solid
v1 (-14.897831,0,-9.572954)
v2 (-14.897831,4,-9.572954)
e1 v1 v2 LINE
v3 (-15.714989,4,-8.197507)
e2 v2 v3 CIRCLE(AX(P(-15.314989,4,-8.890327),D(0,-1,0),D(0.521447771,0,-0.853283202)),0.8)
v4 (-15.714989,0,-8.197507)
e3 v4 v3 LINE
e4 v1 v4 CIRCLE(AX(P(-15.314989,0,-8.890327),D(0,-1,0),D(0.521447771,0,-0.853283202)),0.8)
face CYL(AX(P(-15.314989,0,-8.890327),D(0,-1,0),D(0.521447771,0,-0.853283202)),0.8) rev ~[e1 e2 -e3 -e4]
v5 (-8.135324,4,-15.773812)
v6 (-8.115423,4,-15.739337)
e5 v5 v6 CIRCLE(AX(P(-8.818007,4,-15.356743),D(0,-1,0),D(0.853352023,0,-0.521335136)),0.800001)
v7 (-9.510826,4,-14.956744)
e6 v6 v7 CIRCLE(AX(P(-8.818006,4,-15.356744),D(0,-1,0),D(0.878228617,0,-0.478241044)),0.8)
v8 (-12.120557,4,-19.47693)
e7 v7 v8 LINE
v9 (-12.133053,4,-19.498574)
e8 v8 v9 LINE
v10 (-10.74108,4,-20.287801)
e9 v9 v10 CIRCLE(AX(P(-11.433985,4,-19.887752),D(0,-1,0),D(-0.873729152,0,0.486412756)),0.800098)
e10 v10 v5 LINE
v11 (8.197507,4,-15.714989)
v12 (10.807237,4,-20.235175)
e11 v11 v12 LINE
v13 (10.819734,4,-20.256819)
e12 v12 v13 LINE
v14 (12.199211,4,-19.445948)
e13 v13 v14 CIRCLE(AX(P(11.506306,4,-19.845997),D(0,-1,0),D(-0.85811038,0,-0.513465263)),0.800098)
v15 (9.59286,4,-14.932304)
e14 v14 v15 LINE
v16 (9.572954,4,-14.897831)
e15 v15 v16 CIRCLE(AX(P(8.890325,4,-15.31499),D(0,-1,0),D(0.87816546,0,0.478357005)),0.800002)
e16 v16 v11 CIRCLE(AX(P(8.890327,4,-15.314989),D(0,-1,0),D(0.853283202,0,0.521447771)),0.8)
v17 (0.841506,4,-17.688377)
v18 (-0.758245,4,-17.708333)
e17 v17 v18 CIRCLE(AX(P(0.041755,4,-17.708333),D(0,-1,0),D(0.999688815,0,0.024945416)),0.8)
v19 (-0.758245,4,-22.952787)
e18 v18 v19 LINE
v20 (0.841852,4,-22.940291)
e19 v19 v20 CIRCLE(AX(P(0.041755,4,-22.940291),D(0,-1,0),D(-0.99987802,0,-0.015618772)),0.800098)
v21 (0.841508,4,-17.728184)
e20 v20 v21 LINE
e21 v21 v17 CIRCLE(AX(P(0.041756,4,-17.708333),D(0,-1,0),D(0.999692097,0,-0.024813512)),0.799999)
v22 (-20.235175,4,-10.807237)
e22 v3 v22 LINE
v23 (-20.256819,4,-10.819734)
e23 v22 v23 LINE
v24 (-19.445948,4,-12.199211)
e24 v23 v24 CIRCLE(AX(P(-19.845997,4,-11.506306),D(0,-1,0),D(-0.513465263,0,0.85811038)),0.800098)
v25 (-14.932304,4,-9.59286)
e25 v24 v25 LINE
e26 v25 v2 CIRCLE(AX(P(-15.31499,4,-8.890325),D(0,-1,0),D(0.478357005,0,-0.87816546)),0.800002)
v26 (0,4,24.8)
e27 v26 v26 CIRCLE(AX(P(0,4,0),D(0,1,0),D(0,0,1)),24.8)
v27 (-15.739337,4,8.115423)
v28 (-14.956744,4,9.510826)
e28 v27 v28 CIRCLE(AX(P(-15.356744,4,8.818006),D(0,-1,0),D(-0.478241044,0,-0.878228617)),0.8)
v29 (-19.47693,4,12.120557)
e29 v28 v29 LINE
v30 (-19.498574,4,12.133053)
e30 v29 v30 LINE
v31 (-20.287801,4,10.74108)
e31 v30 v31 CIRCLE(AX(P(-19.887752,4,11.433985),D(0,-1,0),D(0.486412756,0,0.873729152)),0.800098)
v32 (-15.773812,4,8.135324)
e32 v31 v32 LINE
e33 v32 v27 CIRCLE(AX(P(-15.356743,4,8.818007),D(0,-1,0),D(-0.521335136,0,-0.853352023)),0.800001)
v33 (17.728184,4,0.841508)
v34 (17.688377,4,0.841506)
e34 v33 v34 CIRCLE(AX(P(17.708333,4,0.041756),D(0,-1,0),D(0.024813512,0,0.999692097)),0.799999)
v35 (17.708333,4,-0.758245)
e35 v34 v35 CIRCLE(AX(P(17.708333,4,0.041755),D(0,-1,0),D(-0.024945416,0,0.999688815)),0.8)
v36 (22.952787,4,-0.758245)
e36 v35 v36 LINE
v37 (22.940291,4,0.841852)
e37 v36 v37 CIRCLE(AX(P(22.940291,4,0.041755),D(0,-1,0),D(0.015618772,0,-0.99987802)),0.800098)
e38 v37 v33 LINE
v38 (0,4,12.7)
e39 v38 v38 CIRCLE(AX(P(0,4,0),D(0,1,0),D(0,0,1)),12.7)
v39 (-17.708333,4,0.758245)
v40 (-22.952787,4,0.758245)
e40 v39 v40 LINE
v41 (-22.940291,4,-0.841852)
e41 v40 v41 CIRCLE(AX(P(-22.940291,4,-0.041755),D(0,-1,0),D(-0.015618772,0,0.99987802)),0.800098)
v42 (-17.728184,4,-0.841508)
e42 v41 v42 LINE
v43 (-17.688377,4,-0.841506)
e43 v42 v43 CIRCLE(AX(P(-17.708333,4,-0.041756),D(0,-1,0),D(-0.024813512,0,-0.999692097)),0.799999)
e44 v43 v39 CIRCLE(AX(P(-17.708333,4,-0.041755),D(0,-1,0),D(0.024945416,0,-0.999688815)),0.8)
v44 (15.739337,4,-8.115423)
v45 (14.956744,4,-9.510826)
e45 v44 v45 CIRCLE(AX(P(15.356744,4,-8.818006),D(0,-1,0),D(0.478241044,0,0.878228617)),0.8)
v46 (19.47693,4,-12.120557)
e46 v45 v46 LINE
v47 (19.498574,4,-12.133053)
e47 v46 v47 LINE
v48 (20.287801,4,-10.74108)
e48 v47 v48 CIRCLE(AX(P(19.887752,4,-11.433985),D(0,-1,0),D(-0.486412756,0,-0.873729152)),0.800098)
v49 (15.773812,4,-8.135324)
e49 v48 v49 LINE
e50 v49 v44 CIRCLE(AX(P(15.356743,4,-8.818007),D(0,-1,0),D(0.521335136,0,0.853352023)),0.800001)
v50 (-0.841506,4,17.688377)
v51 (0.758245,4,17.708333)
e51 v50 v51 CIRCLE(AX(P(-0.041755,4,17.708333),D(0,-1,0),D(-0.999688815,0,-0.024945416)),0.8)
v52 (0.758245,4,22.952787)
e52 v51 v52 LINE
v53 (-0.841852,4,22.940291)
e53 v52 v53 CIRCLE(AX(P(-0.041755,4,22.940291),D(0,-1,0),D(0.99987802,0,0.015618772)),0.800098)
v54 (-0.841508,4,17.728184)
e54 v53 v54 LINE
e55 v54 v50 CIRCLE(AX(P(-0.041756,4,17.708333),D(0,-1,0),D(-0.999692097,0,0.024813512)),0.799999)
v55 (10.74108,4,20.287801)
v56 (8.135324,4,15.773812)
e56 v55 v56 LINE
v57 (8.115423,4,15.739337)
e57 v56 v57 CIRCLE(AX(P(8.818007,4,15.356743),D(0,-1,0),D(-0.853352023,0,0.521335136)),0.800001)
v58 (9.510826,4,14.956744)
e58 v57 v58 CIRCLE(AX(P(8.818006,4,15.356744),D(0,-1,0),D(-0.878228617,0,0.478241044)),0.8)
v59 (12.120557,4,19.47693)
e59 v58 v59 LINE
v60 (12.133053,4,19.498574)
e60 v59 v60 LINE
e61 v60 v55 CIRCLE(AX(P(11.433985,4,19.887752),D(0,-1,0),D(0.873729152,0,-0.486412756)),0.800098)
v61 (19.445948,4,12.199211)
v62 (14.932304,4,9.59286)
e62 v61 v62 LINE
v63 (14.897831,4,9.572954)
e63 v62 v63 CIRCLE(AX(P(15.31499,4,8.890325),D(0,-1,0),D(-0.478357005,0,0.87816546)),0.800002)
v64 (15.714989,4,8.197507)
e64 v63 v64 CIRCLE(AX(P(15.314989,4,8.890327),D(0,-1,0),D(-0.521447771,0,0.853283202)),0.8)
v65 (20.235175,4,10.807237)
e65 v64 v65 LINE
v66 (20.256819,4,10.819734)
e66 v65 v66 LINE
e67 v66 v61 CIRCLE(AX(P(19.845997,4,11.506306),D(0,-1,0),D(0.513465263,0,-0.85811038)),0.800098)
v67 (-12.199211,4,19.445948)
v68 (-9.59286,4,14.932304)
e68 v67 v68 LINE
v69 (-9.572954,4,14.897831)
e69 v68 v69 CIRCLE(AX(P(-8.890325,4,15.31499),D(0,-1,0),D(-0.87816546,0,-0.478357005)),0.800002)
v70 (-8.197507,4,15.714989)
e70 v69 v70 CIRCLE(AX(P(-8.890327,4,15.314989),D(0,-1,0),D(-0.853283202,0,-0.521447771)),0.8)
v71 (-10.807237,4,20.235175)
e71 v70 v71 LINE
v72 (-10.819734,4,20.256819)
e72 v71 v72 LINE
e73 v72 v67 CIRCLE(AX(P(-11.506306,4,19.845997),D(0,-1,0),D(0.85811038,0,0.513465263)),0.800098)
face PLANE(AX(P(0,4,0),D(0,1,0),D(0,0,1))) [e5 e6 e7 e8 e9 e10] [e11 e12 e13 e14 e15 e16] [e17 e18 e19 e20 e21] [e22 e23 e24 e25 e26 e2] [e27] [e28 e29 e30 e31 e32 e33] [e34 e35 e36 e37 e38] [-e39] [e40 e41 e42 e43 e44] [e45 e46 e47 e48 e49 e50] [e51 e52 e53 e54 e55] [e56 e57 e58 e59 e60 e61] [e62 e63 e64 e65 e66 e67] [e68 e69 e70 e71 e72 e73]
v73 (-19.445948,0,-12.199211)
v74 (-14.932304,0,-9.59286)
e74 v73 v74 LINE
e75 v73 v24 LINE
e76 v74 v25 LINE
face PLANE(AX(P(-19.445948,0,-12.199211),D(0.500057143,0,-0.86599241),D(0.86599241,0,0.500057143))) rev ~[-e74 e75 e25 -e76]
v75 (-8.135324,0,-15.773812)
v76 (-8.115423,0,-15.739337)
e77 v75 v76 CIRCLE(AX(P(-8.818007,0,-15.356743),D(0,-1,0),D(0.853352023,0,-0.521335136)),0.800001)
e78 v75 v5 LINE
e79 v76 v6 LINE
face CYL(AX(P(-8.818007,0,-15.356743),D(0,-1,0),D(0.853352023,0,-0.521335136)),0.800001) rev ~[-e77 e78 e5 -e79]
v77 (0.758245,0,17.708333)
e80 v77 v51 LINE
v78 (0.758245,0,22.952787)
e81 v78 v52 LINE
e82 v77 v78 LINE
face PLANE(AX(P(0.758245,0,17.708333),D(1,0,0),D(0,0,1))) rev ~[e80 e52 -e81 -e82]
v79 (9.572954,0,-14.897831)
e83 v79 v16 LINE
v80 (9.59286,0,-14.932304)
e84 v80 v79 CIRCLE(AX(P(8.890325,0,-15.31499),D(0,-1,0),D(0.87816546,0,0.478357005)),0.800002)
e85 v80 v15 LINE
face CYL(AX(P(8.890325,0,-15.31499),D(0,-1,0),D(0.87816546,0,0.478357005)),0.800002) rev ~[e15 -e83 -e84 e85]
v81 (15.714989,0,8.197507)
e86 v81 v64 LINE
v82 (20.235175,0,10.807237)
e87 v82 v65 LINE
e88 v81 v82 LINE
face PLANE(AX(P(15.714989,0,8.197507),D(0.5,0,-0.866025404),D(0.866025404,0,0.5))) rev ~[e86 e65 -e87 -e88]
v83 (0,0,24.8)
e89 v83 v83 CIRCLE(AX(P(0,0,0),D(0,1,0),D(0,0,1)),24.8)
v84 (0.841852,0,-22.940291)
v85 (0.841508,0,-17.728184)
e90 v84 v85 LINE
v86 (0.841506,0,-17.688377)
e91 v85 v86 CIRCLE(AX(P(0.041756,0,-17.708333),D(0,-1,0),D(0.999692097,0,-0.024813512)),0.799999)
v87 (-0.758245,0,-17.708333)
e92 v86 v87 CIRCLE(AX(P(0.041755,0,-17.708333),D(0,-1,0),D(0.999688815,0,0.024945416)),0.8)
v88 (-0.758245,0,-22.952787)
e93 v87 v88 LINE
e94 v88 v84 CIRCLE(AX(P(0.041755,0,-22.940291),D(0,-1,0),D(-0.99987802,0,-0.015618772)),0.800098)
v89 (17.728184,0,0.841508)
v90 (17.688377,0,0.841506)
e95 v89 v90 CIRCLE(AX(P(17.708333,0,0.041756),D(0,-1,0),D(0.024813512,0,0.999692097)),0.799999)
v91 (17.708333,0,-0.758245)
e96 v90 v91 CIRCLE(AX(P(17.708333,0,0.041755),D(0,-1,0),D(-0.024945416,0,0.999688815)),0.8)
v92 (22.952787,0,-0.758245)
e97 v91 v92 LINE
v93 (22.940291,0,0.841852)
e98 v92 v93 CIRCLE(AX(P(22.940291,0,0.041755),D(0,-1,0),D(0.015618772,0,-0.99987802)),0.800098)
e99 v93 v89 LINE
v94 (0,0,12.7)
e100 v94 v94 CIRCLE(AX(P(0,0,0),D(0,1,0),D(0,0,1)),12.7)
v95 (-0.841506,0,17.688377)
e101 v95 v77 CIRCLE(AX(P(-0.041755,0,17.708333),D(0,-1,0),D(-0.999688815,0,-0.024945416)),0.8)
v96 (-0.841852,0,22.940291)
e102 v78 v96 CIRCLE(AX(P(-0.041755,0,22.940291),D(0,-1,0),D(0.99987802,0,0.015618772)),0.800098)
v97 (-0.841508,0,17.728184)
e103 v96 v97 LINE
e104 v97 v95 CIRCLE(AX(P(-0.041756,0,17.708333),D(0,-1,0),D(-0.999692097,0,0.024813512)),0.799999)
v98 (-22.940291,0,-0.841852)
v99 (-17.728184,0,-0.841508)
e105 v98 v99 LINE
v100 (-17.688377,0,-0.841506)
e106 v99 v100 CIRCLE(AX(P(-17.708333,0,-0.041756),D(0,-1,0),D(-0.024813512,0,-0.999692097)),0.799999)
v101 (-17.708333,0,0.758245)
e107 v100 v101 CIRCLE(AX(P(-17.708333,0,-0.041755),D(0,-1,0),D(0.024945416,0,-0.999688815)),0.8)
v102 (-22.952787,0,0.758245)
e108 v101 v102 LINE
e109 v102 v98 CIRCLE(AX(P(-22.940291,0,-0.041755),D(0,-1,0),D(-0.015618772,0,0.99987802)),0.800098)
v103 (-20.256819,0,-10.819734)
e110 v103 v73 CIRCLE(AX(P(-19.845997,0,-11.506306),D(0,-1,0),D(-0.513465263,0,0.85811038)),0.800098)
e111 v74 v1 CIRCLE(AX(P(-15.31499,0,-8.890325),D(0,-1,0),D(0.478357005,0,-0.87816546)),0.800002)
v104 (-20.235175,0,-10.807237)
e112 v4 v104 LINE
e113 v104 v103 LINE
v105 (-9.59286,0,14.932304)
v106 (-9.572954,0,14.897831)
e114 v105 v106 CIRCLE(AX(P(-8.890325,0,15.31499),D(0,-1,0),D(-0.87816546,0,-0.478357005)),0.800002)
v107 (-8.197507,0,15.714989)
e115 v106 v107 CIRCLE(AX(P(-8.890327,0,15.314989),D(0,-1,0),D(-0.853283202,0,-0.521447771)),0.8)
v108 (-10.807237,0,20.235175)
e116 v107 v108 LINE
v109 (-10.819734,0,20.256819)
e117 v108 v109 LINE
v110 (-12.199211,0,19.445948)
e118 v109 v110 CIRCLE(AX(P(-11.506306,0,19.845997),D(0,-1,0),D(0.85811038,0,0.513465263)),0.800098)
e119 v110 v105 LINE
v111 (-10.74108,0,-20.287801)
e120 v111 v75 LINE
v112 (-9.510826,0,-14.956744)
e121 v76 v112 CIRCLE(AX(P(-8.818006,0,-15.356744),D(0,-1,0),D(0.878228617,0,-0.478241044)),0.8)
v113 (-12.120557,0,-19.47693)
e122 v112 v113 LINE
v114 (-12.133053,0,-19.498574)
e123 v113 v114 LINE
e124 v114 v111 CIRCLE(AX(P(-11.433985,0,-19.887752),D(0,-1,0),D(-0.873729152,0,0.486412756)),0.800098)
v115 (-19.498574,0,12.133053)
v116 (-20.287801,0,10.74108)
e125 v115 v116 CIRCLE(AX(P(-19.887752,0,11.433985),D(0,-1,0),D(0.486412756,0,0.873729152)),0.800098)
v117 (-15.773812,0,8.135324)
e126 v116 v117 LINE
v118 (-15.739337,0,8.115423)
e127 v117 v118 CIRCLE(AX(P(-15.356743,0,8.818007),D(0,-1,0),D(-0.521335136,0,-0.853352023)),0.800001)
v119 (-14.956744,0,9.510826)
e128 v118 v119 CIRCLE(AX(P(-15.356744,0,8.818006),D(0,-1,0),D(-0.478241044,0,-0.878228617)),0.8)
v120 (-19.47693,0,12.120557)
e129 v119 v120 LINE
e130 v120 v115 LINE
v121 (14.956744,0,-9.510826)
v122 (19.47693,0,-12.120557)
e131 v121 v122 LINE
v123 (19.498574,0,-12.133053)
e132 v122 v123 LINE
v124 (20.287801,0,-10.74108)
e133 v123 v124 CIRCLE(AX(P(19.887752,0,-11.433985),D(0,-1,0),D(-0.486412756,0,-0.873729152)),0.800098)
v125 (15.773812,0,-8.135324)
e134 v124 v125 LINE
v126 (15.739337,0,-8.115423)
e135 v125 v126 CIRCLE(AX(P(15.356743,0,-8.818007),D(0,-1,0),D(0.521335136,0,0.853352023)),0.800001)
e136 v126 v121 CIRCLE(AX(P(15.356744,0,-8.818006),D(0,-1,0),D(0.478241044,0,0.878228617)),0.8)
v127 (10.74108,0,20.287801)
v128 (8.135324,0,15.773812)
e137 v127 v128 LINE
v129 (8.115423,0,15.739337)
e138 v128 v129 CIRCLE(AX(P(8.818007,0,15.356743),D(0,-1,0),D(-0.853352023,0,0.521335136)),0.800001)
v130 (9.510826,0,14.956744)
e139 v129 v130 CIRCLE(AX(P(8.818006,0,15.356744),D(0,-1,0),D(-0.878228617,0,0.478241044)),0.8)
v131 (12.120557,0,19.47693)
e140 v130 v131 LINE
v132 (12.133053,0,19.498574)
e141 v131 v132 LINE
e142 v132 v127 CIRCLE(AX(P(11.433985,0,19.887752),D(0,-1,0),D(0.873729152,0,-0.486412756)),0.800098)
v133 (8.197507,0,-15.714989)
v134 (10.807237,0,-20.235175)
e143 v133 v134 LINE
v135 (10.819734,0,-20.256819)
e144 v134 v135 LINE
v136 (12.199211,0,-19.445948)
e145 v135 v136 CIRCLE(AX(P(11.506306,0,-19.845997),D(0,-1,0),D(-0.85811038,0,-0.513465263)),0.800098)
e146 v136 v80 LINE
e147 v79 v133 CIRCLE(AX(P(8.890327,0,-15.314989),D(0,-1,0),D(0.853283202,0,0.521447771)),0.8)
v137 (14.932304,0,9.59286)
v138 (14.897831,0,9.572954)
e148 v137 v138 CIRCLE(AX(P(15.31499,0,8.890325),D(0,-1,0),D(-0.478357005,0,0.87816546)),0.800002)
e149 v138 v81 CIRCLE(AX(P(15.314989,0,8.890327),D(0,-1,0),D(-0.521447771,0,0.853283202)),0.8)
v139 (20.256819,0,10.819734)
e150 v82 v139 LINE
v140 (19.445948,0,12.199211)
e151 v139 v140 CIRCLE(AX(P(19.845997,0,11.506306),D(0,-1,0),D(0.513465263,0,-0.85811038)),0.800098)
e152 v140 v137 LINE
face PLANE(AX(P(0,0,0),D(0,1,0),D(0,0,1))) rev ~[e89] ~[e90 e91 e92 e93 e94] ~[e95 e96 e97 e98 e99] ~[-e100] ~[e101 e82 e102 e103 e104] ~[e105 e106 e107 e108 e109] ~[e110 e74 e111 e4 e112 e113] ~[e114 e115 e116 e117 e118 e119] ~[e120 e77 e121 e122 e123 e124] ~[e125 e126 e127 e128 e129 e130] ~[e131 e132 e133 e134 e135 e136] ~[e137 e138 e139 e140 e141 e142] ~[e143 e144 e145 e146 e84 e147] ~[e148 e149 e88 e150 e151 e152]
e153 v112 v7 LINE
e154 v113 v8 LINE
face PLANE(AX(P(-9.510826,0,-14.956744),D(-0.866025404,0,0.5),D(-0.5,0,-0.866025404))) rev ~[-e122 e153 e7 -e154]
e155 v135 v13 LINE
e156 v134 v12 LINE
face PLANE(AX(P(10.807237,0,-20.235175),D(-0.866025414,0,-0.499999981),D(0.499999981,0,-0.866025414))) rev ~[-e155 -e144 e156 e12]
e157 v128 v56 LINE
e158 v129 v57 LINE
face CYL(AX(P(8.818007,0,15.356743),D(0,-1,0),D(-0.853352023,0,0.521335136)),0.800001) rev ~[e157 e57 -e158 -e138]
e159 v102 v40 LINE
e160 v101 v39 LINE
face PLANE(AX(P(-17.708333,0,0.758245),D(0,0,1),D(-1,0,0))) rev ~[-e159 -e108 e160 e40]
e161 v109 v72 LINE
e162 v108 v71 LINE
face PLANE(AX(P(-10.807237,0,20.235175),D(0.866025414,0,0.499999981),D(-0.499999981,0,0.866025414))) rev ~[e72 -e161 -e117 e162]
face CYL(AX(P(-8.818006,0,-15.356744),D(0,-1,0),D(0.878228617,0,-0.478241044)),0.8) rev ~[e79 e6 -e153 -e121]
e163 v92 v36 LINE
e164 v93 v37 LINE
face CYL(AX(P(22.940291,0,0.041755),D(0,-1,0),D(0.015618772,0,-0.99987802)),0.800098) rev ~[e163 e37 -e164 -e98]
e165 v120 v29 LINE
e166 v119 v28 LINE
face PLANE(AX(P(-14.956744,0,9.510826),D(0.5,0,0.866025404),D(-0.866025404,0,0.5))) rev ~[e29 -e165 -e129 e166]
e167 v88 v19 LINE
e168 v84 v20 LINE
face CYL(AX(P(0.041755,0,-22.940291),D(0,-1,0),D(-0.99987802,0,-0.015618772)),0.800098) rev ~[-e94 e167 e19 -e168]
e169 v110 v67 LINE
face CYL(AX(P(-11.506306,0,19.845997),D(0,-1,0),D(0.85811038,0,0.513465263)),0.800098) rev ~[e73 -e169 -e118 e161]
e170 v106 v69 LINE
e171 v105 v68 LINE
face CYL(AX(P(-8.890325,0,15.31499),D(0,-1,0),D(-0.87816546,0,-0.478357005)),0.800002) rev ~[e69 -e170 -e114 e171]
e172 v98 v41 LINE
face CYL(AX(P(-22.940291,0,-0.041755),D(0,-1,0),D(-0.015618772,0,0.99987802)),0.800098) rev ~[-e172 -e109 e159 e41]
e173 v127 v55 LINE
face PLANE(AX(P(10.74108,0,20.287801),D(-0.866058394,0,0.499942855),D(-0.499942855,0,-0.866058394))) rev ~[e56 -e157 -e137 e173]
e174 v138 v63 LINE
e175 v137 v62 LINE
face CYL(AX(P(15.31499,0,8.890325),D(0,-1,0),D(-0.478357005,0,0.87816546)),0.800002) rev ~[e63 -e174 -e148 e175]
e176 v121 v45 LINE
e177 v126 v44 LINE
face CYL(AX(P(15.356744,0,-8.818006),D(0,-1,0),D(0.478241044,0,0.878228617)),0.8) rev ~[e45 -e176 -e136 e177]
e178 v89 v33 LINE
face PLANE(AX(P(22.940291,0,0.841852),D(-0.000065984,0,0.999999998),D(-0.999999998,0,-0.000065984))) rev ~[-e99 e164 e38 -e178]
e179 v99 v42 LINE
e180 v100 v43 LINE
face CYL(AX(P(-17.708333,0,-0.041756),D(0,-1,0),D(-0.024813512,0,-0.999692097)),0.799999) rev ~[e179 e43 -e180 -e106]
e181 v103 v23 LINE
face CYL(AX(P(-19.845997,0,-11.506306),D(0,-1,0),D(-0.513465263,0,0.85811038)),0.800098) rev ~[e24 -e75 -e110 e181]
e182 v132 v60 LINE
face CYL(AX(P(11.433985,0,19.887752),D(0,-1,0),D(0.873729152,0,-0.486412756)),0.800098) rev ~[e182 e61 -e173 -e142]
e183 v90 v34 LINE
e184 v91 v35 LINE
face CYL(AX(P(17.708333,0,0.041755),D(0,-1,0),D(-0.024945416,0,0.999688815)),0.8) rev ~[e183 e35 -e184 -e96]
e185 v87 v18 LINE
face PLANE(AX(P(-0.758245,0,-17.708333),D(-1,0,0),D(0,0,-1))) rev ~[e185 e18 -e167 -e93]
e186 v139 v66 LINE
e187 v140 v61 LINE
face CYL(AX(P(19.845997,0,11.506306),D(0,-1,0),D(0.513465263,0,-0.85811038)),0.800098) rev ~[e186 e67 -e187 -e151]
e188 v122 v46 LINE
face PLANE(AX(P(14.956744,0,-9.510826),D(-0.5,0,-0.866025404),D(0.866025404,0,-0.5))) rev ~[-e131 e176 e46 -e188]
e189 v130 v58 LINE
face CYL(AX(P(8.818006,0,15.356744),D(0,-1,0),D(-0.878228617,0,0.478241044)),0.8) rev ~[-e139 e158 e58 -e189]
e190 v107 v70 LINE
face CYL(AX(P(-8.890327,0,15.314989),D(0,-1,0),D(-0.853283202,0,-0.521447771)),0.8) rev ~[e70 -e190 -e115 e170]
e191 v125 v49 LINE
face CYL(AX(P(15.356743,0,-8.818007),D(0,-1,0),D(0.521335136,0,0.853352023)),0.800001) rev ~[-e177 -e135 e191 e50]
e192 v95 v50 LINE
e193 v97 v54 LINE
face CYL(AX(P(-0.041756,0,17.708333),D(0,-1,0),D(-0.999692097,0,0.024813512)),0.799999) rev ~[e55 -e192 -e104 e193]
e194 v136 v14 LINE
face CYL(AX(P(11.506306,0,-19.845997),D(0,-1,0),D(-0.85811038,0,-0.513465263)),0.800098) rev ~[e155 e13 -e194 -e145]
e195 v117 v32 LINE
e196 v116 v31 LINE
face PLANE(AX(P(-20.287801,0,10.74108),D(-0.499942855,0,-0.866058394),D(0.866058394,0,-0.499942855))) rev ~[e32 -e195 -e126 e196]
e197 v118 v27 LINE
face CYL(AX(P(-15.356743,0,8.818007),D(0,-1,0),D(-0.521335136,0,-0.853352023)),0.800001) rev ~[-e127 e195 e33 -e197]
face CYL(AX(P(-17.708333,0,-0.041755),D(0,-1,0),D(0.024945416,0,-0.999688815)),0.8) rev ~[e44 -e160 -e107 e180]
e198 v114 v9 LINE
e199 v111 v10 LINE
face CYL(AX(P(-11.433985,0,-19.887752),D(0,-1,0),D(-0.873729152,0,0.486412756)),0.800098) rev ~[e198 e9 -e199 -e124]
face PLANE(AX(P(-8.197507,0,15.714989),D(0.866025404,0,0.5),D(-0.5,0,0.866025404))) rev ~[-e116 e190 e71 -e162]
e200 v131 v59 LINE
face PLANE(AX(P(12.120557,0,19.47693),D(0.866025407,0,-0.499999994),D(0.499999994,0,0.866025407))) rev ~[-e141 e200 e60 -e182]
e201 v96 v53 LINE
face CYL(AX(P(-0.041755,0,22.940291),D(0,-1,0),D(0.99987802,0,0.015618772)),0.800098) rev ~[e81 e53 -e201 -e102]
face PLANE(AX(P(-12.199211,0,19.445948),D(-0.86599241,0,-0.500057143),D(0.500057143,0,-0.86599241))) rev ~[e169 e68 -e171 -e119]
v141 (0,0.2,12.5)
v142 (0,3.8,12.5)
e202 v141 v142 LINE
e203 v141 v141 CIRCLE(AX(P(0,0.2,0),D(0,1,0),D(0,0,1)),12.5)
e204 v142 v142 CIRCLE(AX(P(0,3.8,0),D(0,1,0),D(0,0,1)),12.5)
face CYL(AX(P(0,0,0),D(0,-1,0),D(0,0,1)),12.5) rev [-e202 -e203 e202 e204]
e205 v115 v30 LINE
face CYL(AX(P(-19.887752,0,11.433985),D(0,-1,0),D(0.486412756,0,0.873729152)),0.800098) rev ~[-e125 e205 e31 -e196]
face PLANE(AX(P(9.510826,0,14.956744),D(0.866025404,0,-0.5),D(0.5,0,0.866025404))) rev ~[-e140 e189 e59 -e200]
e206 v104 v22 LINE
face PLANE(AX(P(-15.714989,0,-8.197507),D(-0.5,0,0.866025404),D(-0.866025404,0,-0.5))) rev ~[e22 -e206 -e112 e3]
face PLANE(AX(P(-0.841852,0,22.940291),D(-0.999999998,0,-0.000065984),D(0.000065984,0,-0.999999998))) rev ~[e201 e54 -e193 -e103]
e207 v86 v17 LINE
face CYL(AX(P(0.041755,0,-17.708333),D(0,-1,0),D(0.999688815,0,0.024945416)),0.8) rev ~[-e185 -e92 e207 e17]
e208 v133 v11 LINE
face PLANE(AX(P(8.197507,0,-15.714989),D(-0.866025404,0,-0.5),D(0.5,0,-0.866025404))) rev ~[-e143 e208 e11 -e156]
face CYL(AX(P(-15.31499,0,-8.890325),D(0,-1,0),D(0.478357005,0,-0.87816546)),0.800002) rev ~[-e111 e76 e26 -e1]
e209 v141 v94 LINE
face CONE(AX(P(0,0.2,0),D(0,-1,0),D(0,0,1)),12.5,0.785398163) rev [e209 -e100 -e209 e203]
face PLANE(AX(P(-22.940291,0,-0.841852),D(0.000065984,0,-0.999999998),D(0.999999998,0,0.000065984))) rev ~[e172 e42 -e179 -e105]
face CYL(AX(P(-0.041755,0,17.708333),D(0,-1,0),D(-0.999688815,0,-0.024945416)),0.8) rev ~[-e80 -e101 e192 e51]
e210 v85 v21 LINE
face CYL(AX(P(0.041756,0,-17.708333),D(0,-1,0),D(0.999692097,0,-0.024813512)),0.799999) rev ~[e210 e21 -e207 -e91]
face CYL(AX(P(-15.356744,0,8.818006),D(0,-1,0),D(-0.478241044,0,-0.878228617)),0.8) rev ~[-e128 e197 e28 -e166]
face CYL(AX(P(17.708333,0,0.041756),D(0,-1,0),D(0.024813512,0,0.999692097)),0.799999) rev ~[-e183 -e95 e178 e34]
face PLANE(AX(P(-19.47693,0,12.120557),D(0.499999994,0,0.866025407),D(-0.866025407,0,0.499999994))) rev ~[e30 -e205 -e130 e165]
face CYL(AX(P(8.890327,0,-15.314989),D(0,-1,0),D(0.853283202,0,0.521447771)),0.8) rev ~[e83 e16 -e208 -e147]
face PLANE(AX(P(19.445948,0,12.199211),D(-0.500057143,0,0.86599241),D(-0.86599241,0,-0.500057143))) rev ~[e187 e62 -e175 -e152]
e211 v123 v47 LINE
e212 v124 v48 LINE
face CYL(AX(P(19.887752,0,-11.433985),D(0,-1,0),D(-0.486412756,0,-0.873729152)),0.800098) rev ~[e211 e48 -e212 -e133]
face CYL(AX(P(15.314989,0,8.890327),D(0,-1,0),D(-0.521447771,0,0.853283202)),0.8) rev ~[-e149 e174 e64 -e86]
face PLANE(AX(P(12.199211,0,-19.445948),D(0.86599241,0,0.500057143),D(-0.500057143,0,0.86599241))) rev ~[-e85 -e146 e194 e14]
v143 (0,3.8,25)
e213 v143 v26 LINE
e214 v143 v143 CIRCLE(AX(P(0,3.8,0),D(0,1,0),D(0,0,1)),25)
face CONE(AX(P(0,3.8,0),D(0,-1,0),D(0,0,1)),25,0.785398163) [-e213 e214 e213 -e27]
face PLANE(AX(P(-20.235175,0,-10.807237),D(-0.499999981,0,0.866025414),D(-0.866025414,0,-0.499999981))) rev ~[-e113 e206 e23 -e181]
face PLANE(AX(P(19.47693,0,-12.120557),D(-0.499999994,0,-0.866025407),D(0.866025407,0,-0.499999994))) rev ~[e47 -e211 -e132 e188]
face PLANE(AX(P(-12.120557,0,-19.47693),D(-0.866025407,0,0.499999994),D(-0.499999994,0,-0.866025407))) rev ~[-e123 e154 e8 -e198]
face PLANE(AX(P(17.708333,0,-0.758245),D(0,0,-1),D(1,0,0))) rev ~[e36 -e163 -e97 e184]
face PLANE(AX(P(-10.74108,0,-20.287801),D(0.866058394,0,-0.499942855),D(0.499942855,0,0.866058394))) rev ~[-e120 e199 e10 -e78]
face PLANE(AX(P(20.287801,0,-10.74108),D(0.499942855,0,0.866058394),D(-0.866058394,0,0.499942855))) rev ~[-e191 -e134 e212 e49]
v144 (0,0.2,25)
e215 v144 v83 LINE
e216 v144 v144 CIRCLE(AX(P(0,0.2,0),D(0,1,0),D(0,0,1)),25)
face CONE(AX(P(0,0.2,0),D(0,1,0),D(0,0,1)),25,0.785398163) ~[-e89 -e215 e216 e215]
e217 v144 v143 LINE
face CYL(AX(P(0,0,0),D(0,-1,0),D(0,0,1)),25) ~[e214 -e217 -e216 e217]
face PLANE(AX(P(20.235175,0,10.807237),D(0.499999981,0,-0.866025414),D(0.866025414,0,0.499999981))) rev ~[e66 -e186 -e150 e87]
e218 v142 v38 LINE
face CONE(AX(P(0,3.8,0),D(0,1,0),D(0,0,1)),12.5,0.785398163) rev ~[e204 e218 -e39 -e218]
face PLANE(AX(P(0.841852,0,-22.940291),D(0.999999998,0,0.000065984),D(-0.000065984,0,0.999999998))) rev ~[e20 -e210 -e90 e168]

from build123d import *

# Parameters (mm, degrees)
SKETCH1_R           = 25
SKETCH1_R_2         = 12.5
BOSS_EXTRUDE1_DEPTH = 4
CHAMFER1_SIZE       = 0.2


with BuildPart() as part:
    # Sketch1 → Boss-Extrude1 (new body)
    with BuildSketch(Plane(origin=(0, 0, 0), x_dir=(1, 0, 0), z_dir=(0, 1, 0))):
        with Locations(Location((0, 0, 0), (0, 0, 270))):
            Circle(SKETCH1_R)
        with BuildLine():
            ThreePointArc((0.758245274, -22.952787235), (-0.048003188, -23.74036389), (-0.841852323, -22.940290693))
            Line((-0.841852323, -22.940290693), (-0.841508405, -17.728184123))
            ThreePointArc((-0.841508405, -17.728184123), (-0.841754725, -17.708280546), (-0.841505778, -17.688377001))
            ThreePointArc((-0.841505778, -17.688377001), (-0.031775784, -16.908395573), (0.758245274, -17.708333333))
            Line((0.758245274, -17.708333333), (0.758245274, -22.927794152))
            Line((0.758245274, -22.927794152), (0.758245274, -22.952787235))
        make_face(mode=Mode.SUBTRACT)
        with BuildLine():
            ThreePointArc((-10.819733948, -20.25681947), (-11.911753925, -20.53575663), (-12.199210844, -19.445948349))
            Line((-12.199210844, -19.445948349), (-9.592859718, -14.932303611))
            ThreePointArc((-9.592859718, -14.932303611), (-9.583121248, -14.914943448), (-9.572953882, -14.897830945))
            ThreePointArc((-9.572953882, -14.897830945), (-8.481716422, -14.627212211), (-8.197506997, -15.714989162))
            Line((-8.197506997, -15.714989162), (-10.807237407, -20.235174825))
            Line((-10.807237407, -20.235174825), (-10.819733948, -20.25681947))
        make_face(mode=Mode.SUBTRACT)
        with BuildLine():
            ThreePointArc((-19.498574197, -12.133053287), (-20.583759818, -11.828609965), (-20.287800672, -10.741079849))
            Line((-20.287800672, -10.741079849), (-15.773812016, -8.135324406))
            ThreePointArc((-15.773812016, -8.135324406), (-15.756698172, -8.125159298), (-15.739336724, -8.115423119))
            ThreePointArc((-15.739336724, -8.115423119), (-14.658987995, -8.42667915), (-14.956743889, -9.510826336))
            Line((-14.956743889, -9.510826336), (-19.476929551, -12.120556745))
            Line((-19.476929551, -12.120556745), (-19.498574197, -12.133053287))
        make_face(mode=Mode.SUBTRACT)
        with BuildLine():
            ThreePointArc((12.133053287, -19.498574197), (11.828609965, -20.583759818), (10.741079849, -20.287800672))
            Line((10.741079849, -20.287800672), (8.135324406, -15.773812016))
            ThreePointArc((8.135324406, -15.773812016), (8.125159298, -15.756698172), (8.115423119, -15.739336724))
            ThreePointArc((8.115423119, -15.739336724), (8.42667915, -14.658987995), (9.510826336, -14.956743889))
            Line((9.510826336, -14.956743889), (12.120556745, -19.476929551))
            Line((12.120556745, -19.476929551), (12.133053287, -19.498574197))
        make_face(mode=Mode.SUBTRACT)
        with BuildLine():
            ThreePointArc((20.25681947, -10.819733948), (20.53575663, -11.911753925), (19.445948349, -12.199210844))
            Line((19.445948349, -12.199210844), (14.932303611, -9.592859718))
            ThreePointArc((14.932303611, -9.592859718), (14.914943448, -9.583121248), (14.897830945, -9.572953882))
            ThreePointArc((14.897830945, -9.572953882), (14.627212211, -8.481716422), (15.714989162, -8.197506997))
            Line((15.714989162, -8.197506997), (20.235174825, -10.807237407))
            Line((20.235174825, -10.807237407), (20.25681947, -10.819733948))
        make_face(mode=Mode.SUBTRACT)
        with BuildLine():
            ThreePointArc((22.952787235, 0.758245274), (23.74036389, -0.048003188), (22.940290693, -0.841852323))
            Line((22.940290693, -0.841852323), (17.728184123, -0.841508405))
            ThreePointArc((17.728184123, -0.841508405), (17.708280546, -0.841754725), (17.688377001, -0.841505778))
            ThreePointArc((17.688377001, -0.841505778), (16.908395573, -0.031775784), (17.708333333, 0.758245274))
            Line((17.708333333, 0.758245274), (22.927794152, 0.758245274))
            Line((22.927794152, 0.758245274), (22.952787235, 0.758245274))
        make_face(mode=Mode.SUBTRACT)
        with BuildLine():
            ThreePointArc((-22.952787235, -0.758245274), (-23.74036389, 0.048003188), (-22.940290693, 0.841852323))
            Line((-22.940290693, 0.841852323), (-17.728184123, 0.841508405))
            ThreePointArc((-17.728184123, 0.841508405), (-17.708280546, 0.841754725), (-17.688377001, 0.841505778))
            ThreePointArc((-17.688377001, 0.841505778), (-16.908395573, 0.031775784), (-17.708333333, -0.758245274))
            Line((-17.708333333, -0.758245274), (-22.927794152, -0.758245274))
            Line((-22.927794152, -0.758245274), (-22.952787235, -0.758245274))
        make_face(mode=Mode.SUBTRACT)
        with BuildLine():
            ThreePointArc((-20.25681947, 10.819733948), (-20.53575663, 11.911753925), (-19.445948349, 12.199210844))
            Line((-19.445948349, 12.199210844), (-14.932303611, 9.592859718))
            ThreePointArc((-14.932303611, 9.592859718), (-14.914943448, 9.583121248), (-14.897830945, 9.572953882))
            ThreePointArc((-14.897830945, 9.572953882), (-14.627212211, 8.481716422), (-15.714989162, 8.197506997))
            Line((-15.714989162, 8.197506997), (-20.235174825, 10.807237407))
            Line((-20.235174825, 10.807237407), (-20.25681947, 10.819733948))
        make_face(mode=Mode.SUBTRACT)
        with Locations(Location((0, 0, 0), (0, 0, 270))):
            Circle(SKETCH1_R_2, mode=Mode.SUBTRACT)
        with BuildLine():
            ThreePointArc((-12.133053287, 19.498574197), (-11.828609965, 20.583759818), (-10.741079849, 20.287800672))
            Line((-10.741079849, 20.287800672), (-8.135324406, 15.773812016))
            ThreePointArc((-8.135324406, 15.773812016), (-8.125159298, 15.756698172), (-8.115423119, 15.739336724))
            ThreePointArc((-8.115423119, 15.739336724), (-8.42667915, 14.658987995), (-9.510826336, 14.956743889))
            Line((-9.510826336, 14.956743889), (-12.120556745, 19.476929551))
            Line((-12.120556745, 19.476929551), (-12.133053287, 19.498574197))
        make_face(mode=Mode.SUBTRACT)
        with BuildLine():
            ThreePointArc((19.498574197, 12.133053287), (20.583759818, 11.828609965), (20.287800672, 10.741079849))
            Line((20.287800672, 10.741079849), (15.773812016, 8.135324406))
            ThreePointArc((15.773812016, 8.135324406), (15.756698172, 8.125159298), (15.739336724, 8.115423119))
            ThreePointArc((15.739336724, 8.115423119), (14.658987995, 8.42667915), (14.956743889, 9.510826336))
            Line((14.956743889, 9.510826336), (19.476929551, 12.120556745))
            Line((19.476929551, 12.120556745), (19.498574197, 12.133053287))
        make_face(mode=Mode.SUBTRACT)
        with BuildLine():
            ThreePointArc((10.819733948, 20.25681947), (11.911753925, 20.53575663), (12.199210844, 19.445948349))
            Line((12.199210844, 19.445948349), (9.592859718, 14.932303611))
            ThreePointArc((9.592859718, 14.932303611), (9.583121248, 14.914943448), (9.572953882, 14.897830945))
            ThreePointArc((9.572953882, 14.897830945), (8.481716422, 14.627212211), (8.197506997, 15.714989162))
            Line((8.197506997, 15.714989162), (10.807237407, 20.235174825))
            Line((10.807237407, 20.235174825), (10.819733948, 20.25681947))
        make_face(mode=Mode.SUBTRACT)
        with BuildLine():
            ThreePointArc((0.841505778, 17.688377001), (0.031775784, 16.908395573), (-0.758245274, 17.708333333))
            Line((-0.758245274, 17.708333333), (-0.758245274, 22.927794152))
            Line((-0.758245274, 22.927794152), (-0.758245274, 22.952787235))
            ThreePointArc((-0.758245274, 22.952787235), (0.048003188, 23.74036389), (0.841852323, 22.940290693))
            Line((0.841852323, 22.940290693), (0.841508405, 17.728184123))
            ThreePointArc((0.841508405, 17.728184123), (0.841754725, 17.708280546), (0.841505778, 17.688377001))
        make_face(mode=Mode.SUBTRACT)
    extrude(amount=BOSS_EXTRUDE1_DEPTH)

    # Chamfer1
    chamfer1_edges = [part.edges().sort_by_distance(p)[0] for p in [
        (0, 4, -12.5),
        (0, 4, -25),
        (0, 0, -25),
        (0, 0, -12.5),
    ]]
    chamfer(chamfer1_edges, length=CHAMFER1_SIZE)


solid = part.part
